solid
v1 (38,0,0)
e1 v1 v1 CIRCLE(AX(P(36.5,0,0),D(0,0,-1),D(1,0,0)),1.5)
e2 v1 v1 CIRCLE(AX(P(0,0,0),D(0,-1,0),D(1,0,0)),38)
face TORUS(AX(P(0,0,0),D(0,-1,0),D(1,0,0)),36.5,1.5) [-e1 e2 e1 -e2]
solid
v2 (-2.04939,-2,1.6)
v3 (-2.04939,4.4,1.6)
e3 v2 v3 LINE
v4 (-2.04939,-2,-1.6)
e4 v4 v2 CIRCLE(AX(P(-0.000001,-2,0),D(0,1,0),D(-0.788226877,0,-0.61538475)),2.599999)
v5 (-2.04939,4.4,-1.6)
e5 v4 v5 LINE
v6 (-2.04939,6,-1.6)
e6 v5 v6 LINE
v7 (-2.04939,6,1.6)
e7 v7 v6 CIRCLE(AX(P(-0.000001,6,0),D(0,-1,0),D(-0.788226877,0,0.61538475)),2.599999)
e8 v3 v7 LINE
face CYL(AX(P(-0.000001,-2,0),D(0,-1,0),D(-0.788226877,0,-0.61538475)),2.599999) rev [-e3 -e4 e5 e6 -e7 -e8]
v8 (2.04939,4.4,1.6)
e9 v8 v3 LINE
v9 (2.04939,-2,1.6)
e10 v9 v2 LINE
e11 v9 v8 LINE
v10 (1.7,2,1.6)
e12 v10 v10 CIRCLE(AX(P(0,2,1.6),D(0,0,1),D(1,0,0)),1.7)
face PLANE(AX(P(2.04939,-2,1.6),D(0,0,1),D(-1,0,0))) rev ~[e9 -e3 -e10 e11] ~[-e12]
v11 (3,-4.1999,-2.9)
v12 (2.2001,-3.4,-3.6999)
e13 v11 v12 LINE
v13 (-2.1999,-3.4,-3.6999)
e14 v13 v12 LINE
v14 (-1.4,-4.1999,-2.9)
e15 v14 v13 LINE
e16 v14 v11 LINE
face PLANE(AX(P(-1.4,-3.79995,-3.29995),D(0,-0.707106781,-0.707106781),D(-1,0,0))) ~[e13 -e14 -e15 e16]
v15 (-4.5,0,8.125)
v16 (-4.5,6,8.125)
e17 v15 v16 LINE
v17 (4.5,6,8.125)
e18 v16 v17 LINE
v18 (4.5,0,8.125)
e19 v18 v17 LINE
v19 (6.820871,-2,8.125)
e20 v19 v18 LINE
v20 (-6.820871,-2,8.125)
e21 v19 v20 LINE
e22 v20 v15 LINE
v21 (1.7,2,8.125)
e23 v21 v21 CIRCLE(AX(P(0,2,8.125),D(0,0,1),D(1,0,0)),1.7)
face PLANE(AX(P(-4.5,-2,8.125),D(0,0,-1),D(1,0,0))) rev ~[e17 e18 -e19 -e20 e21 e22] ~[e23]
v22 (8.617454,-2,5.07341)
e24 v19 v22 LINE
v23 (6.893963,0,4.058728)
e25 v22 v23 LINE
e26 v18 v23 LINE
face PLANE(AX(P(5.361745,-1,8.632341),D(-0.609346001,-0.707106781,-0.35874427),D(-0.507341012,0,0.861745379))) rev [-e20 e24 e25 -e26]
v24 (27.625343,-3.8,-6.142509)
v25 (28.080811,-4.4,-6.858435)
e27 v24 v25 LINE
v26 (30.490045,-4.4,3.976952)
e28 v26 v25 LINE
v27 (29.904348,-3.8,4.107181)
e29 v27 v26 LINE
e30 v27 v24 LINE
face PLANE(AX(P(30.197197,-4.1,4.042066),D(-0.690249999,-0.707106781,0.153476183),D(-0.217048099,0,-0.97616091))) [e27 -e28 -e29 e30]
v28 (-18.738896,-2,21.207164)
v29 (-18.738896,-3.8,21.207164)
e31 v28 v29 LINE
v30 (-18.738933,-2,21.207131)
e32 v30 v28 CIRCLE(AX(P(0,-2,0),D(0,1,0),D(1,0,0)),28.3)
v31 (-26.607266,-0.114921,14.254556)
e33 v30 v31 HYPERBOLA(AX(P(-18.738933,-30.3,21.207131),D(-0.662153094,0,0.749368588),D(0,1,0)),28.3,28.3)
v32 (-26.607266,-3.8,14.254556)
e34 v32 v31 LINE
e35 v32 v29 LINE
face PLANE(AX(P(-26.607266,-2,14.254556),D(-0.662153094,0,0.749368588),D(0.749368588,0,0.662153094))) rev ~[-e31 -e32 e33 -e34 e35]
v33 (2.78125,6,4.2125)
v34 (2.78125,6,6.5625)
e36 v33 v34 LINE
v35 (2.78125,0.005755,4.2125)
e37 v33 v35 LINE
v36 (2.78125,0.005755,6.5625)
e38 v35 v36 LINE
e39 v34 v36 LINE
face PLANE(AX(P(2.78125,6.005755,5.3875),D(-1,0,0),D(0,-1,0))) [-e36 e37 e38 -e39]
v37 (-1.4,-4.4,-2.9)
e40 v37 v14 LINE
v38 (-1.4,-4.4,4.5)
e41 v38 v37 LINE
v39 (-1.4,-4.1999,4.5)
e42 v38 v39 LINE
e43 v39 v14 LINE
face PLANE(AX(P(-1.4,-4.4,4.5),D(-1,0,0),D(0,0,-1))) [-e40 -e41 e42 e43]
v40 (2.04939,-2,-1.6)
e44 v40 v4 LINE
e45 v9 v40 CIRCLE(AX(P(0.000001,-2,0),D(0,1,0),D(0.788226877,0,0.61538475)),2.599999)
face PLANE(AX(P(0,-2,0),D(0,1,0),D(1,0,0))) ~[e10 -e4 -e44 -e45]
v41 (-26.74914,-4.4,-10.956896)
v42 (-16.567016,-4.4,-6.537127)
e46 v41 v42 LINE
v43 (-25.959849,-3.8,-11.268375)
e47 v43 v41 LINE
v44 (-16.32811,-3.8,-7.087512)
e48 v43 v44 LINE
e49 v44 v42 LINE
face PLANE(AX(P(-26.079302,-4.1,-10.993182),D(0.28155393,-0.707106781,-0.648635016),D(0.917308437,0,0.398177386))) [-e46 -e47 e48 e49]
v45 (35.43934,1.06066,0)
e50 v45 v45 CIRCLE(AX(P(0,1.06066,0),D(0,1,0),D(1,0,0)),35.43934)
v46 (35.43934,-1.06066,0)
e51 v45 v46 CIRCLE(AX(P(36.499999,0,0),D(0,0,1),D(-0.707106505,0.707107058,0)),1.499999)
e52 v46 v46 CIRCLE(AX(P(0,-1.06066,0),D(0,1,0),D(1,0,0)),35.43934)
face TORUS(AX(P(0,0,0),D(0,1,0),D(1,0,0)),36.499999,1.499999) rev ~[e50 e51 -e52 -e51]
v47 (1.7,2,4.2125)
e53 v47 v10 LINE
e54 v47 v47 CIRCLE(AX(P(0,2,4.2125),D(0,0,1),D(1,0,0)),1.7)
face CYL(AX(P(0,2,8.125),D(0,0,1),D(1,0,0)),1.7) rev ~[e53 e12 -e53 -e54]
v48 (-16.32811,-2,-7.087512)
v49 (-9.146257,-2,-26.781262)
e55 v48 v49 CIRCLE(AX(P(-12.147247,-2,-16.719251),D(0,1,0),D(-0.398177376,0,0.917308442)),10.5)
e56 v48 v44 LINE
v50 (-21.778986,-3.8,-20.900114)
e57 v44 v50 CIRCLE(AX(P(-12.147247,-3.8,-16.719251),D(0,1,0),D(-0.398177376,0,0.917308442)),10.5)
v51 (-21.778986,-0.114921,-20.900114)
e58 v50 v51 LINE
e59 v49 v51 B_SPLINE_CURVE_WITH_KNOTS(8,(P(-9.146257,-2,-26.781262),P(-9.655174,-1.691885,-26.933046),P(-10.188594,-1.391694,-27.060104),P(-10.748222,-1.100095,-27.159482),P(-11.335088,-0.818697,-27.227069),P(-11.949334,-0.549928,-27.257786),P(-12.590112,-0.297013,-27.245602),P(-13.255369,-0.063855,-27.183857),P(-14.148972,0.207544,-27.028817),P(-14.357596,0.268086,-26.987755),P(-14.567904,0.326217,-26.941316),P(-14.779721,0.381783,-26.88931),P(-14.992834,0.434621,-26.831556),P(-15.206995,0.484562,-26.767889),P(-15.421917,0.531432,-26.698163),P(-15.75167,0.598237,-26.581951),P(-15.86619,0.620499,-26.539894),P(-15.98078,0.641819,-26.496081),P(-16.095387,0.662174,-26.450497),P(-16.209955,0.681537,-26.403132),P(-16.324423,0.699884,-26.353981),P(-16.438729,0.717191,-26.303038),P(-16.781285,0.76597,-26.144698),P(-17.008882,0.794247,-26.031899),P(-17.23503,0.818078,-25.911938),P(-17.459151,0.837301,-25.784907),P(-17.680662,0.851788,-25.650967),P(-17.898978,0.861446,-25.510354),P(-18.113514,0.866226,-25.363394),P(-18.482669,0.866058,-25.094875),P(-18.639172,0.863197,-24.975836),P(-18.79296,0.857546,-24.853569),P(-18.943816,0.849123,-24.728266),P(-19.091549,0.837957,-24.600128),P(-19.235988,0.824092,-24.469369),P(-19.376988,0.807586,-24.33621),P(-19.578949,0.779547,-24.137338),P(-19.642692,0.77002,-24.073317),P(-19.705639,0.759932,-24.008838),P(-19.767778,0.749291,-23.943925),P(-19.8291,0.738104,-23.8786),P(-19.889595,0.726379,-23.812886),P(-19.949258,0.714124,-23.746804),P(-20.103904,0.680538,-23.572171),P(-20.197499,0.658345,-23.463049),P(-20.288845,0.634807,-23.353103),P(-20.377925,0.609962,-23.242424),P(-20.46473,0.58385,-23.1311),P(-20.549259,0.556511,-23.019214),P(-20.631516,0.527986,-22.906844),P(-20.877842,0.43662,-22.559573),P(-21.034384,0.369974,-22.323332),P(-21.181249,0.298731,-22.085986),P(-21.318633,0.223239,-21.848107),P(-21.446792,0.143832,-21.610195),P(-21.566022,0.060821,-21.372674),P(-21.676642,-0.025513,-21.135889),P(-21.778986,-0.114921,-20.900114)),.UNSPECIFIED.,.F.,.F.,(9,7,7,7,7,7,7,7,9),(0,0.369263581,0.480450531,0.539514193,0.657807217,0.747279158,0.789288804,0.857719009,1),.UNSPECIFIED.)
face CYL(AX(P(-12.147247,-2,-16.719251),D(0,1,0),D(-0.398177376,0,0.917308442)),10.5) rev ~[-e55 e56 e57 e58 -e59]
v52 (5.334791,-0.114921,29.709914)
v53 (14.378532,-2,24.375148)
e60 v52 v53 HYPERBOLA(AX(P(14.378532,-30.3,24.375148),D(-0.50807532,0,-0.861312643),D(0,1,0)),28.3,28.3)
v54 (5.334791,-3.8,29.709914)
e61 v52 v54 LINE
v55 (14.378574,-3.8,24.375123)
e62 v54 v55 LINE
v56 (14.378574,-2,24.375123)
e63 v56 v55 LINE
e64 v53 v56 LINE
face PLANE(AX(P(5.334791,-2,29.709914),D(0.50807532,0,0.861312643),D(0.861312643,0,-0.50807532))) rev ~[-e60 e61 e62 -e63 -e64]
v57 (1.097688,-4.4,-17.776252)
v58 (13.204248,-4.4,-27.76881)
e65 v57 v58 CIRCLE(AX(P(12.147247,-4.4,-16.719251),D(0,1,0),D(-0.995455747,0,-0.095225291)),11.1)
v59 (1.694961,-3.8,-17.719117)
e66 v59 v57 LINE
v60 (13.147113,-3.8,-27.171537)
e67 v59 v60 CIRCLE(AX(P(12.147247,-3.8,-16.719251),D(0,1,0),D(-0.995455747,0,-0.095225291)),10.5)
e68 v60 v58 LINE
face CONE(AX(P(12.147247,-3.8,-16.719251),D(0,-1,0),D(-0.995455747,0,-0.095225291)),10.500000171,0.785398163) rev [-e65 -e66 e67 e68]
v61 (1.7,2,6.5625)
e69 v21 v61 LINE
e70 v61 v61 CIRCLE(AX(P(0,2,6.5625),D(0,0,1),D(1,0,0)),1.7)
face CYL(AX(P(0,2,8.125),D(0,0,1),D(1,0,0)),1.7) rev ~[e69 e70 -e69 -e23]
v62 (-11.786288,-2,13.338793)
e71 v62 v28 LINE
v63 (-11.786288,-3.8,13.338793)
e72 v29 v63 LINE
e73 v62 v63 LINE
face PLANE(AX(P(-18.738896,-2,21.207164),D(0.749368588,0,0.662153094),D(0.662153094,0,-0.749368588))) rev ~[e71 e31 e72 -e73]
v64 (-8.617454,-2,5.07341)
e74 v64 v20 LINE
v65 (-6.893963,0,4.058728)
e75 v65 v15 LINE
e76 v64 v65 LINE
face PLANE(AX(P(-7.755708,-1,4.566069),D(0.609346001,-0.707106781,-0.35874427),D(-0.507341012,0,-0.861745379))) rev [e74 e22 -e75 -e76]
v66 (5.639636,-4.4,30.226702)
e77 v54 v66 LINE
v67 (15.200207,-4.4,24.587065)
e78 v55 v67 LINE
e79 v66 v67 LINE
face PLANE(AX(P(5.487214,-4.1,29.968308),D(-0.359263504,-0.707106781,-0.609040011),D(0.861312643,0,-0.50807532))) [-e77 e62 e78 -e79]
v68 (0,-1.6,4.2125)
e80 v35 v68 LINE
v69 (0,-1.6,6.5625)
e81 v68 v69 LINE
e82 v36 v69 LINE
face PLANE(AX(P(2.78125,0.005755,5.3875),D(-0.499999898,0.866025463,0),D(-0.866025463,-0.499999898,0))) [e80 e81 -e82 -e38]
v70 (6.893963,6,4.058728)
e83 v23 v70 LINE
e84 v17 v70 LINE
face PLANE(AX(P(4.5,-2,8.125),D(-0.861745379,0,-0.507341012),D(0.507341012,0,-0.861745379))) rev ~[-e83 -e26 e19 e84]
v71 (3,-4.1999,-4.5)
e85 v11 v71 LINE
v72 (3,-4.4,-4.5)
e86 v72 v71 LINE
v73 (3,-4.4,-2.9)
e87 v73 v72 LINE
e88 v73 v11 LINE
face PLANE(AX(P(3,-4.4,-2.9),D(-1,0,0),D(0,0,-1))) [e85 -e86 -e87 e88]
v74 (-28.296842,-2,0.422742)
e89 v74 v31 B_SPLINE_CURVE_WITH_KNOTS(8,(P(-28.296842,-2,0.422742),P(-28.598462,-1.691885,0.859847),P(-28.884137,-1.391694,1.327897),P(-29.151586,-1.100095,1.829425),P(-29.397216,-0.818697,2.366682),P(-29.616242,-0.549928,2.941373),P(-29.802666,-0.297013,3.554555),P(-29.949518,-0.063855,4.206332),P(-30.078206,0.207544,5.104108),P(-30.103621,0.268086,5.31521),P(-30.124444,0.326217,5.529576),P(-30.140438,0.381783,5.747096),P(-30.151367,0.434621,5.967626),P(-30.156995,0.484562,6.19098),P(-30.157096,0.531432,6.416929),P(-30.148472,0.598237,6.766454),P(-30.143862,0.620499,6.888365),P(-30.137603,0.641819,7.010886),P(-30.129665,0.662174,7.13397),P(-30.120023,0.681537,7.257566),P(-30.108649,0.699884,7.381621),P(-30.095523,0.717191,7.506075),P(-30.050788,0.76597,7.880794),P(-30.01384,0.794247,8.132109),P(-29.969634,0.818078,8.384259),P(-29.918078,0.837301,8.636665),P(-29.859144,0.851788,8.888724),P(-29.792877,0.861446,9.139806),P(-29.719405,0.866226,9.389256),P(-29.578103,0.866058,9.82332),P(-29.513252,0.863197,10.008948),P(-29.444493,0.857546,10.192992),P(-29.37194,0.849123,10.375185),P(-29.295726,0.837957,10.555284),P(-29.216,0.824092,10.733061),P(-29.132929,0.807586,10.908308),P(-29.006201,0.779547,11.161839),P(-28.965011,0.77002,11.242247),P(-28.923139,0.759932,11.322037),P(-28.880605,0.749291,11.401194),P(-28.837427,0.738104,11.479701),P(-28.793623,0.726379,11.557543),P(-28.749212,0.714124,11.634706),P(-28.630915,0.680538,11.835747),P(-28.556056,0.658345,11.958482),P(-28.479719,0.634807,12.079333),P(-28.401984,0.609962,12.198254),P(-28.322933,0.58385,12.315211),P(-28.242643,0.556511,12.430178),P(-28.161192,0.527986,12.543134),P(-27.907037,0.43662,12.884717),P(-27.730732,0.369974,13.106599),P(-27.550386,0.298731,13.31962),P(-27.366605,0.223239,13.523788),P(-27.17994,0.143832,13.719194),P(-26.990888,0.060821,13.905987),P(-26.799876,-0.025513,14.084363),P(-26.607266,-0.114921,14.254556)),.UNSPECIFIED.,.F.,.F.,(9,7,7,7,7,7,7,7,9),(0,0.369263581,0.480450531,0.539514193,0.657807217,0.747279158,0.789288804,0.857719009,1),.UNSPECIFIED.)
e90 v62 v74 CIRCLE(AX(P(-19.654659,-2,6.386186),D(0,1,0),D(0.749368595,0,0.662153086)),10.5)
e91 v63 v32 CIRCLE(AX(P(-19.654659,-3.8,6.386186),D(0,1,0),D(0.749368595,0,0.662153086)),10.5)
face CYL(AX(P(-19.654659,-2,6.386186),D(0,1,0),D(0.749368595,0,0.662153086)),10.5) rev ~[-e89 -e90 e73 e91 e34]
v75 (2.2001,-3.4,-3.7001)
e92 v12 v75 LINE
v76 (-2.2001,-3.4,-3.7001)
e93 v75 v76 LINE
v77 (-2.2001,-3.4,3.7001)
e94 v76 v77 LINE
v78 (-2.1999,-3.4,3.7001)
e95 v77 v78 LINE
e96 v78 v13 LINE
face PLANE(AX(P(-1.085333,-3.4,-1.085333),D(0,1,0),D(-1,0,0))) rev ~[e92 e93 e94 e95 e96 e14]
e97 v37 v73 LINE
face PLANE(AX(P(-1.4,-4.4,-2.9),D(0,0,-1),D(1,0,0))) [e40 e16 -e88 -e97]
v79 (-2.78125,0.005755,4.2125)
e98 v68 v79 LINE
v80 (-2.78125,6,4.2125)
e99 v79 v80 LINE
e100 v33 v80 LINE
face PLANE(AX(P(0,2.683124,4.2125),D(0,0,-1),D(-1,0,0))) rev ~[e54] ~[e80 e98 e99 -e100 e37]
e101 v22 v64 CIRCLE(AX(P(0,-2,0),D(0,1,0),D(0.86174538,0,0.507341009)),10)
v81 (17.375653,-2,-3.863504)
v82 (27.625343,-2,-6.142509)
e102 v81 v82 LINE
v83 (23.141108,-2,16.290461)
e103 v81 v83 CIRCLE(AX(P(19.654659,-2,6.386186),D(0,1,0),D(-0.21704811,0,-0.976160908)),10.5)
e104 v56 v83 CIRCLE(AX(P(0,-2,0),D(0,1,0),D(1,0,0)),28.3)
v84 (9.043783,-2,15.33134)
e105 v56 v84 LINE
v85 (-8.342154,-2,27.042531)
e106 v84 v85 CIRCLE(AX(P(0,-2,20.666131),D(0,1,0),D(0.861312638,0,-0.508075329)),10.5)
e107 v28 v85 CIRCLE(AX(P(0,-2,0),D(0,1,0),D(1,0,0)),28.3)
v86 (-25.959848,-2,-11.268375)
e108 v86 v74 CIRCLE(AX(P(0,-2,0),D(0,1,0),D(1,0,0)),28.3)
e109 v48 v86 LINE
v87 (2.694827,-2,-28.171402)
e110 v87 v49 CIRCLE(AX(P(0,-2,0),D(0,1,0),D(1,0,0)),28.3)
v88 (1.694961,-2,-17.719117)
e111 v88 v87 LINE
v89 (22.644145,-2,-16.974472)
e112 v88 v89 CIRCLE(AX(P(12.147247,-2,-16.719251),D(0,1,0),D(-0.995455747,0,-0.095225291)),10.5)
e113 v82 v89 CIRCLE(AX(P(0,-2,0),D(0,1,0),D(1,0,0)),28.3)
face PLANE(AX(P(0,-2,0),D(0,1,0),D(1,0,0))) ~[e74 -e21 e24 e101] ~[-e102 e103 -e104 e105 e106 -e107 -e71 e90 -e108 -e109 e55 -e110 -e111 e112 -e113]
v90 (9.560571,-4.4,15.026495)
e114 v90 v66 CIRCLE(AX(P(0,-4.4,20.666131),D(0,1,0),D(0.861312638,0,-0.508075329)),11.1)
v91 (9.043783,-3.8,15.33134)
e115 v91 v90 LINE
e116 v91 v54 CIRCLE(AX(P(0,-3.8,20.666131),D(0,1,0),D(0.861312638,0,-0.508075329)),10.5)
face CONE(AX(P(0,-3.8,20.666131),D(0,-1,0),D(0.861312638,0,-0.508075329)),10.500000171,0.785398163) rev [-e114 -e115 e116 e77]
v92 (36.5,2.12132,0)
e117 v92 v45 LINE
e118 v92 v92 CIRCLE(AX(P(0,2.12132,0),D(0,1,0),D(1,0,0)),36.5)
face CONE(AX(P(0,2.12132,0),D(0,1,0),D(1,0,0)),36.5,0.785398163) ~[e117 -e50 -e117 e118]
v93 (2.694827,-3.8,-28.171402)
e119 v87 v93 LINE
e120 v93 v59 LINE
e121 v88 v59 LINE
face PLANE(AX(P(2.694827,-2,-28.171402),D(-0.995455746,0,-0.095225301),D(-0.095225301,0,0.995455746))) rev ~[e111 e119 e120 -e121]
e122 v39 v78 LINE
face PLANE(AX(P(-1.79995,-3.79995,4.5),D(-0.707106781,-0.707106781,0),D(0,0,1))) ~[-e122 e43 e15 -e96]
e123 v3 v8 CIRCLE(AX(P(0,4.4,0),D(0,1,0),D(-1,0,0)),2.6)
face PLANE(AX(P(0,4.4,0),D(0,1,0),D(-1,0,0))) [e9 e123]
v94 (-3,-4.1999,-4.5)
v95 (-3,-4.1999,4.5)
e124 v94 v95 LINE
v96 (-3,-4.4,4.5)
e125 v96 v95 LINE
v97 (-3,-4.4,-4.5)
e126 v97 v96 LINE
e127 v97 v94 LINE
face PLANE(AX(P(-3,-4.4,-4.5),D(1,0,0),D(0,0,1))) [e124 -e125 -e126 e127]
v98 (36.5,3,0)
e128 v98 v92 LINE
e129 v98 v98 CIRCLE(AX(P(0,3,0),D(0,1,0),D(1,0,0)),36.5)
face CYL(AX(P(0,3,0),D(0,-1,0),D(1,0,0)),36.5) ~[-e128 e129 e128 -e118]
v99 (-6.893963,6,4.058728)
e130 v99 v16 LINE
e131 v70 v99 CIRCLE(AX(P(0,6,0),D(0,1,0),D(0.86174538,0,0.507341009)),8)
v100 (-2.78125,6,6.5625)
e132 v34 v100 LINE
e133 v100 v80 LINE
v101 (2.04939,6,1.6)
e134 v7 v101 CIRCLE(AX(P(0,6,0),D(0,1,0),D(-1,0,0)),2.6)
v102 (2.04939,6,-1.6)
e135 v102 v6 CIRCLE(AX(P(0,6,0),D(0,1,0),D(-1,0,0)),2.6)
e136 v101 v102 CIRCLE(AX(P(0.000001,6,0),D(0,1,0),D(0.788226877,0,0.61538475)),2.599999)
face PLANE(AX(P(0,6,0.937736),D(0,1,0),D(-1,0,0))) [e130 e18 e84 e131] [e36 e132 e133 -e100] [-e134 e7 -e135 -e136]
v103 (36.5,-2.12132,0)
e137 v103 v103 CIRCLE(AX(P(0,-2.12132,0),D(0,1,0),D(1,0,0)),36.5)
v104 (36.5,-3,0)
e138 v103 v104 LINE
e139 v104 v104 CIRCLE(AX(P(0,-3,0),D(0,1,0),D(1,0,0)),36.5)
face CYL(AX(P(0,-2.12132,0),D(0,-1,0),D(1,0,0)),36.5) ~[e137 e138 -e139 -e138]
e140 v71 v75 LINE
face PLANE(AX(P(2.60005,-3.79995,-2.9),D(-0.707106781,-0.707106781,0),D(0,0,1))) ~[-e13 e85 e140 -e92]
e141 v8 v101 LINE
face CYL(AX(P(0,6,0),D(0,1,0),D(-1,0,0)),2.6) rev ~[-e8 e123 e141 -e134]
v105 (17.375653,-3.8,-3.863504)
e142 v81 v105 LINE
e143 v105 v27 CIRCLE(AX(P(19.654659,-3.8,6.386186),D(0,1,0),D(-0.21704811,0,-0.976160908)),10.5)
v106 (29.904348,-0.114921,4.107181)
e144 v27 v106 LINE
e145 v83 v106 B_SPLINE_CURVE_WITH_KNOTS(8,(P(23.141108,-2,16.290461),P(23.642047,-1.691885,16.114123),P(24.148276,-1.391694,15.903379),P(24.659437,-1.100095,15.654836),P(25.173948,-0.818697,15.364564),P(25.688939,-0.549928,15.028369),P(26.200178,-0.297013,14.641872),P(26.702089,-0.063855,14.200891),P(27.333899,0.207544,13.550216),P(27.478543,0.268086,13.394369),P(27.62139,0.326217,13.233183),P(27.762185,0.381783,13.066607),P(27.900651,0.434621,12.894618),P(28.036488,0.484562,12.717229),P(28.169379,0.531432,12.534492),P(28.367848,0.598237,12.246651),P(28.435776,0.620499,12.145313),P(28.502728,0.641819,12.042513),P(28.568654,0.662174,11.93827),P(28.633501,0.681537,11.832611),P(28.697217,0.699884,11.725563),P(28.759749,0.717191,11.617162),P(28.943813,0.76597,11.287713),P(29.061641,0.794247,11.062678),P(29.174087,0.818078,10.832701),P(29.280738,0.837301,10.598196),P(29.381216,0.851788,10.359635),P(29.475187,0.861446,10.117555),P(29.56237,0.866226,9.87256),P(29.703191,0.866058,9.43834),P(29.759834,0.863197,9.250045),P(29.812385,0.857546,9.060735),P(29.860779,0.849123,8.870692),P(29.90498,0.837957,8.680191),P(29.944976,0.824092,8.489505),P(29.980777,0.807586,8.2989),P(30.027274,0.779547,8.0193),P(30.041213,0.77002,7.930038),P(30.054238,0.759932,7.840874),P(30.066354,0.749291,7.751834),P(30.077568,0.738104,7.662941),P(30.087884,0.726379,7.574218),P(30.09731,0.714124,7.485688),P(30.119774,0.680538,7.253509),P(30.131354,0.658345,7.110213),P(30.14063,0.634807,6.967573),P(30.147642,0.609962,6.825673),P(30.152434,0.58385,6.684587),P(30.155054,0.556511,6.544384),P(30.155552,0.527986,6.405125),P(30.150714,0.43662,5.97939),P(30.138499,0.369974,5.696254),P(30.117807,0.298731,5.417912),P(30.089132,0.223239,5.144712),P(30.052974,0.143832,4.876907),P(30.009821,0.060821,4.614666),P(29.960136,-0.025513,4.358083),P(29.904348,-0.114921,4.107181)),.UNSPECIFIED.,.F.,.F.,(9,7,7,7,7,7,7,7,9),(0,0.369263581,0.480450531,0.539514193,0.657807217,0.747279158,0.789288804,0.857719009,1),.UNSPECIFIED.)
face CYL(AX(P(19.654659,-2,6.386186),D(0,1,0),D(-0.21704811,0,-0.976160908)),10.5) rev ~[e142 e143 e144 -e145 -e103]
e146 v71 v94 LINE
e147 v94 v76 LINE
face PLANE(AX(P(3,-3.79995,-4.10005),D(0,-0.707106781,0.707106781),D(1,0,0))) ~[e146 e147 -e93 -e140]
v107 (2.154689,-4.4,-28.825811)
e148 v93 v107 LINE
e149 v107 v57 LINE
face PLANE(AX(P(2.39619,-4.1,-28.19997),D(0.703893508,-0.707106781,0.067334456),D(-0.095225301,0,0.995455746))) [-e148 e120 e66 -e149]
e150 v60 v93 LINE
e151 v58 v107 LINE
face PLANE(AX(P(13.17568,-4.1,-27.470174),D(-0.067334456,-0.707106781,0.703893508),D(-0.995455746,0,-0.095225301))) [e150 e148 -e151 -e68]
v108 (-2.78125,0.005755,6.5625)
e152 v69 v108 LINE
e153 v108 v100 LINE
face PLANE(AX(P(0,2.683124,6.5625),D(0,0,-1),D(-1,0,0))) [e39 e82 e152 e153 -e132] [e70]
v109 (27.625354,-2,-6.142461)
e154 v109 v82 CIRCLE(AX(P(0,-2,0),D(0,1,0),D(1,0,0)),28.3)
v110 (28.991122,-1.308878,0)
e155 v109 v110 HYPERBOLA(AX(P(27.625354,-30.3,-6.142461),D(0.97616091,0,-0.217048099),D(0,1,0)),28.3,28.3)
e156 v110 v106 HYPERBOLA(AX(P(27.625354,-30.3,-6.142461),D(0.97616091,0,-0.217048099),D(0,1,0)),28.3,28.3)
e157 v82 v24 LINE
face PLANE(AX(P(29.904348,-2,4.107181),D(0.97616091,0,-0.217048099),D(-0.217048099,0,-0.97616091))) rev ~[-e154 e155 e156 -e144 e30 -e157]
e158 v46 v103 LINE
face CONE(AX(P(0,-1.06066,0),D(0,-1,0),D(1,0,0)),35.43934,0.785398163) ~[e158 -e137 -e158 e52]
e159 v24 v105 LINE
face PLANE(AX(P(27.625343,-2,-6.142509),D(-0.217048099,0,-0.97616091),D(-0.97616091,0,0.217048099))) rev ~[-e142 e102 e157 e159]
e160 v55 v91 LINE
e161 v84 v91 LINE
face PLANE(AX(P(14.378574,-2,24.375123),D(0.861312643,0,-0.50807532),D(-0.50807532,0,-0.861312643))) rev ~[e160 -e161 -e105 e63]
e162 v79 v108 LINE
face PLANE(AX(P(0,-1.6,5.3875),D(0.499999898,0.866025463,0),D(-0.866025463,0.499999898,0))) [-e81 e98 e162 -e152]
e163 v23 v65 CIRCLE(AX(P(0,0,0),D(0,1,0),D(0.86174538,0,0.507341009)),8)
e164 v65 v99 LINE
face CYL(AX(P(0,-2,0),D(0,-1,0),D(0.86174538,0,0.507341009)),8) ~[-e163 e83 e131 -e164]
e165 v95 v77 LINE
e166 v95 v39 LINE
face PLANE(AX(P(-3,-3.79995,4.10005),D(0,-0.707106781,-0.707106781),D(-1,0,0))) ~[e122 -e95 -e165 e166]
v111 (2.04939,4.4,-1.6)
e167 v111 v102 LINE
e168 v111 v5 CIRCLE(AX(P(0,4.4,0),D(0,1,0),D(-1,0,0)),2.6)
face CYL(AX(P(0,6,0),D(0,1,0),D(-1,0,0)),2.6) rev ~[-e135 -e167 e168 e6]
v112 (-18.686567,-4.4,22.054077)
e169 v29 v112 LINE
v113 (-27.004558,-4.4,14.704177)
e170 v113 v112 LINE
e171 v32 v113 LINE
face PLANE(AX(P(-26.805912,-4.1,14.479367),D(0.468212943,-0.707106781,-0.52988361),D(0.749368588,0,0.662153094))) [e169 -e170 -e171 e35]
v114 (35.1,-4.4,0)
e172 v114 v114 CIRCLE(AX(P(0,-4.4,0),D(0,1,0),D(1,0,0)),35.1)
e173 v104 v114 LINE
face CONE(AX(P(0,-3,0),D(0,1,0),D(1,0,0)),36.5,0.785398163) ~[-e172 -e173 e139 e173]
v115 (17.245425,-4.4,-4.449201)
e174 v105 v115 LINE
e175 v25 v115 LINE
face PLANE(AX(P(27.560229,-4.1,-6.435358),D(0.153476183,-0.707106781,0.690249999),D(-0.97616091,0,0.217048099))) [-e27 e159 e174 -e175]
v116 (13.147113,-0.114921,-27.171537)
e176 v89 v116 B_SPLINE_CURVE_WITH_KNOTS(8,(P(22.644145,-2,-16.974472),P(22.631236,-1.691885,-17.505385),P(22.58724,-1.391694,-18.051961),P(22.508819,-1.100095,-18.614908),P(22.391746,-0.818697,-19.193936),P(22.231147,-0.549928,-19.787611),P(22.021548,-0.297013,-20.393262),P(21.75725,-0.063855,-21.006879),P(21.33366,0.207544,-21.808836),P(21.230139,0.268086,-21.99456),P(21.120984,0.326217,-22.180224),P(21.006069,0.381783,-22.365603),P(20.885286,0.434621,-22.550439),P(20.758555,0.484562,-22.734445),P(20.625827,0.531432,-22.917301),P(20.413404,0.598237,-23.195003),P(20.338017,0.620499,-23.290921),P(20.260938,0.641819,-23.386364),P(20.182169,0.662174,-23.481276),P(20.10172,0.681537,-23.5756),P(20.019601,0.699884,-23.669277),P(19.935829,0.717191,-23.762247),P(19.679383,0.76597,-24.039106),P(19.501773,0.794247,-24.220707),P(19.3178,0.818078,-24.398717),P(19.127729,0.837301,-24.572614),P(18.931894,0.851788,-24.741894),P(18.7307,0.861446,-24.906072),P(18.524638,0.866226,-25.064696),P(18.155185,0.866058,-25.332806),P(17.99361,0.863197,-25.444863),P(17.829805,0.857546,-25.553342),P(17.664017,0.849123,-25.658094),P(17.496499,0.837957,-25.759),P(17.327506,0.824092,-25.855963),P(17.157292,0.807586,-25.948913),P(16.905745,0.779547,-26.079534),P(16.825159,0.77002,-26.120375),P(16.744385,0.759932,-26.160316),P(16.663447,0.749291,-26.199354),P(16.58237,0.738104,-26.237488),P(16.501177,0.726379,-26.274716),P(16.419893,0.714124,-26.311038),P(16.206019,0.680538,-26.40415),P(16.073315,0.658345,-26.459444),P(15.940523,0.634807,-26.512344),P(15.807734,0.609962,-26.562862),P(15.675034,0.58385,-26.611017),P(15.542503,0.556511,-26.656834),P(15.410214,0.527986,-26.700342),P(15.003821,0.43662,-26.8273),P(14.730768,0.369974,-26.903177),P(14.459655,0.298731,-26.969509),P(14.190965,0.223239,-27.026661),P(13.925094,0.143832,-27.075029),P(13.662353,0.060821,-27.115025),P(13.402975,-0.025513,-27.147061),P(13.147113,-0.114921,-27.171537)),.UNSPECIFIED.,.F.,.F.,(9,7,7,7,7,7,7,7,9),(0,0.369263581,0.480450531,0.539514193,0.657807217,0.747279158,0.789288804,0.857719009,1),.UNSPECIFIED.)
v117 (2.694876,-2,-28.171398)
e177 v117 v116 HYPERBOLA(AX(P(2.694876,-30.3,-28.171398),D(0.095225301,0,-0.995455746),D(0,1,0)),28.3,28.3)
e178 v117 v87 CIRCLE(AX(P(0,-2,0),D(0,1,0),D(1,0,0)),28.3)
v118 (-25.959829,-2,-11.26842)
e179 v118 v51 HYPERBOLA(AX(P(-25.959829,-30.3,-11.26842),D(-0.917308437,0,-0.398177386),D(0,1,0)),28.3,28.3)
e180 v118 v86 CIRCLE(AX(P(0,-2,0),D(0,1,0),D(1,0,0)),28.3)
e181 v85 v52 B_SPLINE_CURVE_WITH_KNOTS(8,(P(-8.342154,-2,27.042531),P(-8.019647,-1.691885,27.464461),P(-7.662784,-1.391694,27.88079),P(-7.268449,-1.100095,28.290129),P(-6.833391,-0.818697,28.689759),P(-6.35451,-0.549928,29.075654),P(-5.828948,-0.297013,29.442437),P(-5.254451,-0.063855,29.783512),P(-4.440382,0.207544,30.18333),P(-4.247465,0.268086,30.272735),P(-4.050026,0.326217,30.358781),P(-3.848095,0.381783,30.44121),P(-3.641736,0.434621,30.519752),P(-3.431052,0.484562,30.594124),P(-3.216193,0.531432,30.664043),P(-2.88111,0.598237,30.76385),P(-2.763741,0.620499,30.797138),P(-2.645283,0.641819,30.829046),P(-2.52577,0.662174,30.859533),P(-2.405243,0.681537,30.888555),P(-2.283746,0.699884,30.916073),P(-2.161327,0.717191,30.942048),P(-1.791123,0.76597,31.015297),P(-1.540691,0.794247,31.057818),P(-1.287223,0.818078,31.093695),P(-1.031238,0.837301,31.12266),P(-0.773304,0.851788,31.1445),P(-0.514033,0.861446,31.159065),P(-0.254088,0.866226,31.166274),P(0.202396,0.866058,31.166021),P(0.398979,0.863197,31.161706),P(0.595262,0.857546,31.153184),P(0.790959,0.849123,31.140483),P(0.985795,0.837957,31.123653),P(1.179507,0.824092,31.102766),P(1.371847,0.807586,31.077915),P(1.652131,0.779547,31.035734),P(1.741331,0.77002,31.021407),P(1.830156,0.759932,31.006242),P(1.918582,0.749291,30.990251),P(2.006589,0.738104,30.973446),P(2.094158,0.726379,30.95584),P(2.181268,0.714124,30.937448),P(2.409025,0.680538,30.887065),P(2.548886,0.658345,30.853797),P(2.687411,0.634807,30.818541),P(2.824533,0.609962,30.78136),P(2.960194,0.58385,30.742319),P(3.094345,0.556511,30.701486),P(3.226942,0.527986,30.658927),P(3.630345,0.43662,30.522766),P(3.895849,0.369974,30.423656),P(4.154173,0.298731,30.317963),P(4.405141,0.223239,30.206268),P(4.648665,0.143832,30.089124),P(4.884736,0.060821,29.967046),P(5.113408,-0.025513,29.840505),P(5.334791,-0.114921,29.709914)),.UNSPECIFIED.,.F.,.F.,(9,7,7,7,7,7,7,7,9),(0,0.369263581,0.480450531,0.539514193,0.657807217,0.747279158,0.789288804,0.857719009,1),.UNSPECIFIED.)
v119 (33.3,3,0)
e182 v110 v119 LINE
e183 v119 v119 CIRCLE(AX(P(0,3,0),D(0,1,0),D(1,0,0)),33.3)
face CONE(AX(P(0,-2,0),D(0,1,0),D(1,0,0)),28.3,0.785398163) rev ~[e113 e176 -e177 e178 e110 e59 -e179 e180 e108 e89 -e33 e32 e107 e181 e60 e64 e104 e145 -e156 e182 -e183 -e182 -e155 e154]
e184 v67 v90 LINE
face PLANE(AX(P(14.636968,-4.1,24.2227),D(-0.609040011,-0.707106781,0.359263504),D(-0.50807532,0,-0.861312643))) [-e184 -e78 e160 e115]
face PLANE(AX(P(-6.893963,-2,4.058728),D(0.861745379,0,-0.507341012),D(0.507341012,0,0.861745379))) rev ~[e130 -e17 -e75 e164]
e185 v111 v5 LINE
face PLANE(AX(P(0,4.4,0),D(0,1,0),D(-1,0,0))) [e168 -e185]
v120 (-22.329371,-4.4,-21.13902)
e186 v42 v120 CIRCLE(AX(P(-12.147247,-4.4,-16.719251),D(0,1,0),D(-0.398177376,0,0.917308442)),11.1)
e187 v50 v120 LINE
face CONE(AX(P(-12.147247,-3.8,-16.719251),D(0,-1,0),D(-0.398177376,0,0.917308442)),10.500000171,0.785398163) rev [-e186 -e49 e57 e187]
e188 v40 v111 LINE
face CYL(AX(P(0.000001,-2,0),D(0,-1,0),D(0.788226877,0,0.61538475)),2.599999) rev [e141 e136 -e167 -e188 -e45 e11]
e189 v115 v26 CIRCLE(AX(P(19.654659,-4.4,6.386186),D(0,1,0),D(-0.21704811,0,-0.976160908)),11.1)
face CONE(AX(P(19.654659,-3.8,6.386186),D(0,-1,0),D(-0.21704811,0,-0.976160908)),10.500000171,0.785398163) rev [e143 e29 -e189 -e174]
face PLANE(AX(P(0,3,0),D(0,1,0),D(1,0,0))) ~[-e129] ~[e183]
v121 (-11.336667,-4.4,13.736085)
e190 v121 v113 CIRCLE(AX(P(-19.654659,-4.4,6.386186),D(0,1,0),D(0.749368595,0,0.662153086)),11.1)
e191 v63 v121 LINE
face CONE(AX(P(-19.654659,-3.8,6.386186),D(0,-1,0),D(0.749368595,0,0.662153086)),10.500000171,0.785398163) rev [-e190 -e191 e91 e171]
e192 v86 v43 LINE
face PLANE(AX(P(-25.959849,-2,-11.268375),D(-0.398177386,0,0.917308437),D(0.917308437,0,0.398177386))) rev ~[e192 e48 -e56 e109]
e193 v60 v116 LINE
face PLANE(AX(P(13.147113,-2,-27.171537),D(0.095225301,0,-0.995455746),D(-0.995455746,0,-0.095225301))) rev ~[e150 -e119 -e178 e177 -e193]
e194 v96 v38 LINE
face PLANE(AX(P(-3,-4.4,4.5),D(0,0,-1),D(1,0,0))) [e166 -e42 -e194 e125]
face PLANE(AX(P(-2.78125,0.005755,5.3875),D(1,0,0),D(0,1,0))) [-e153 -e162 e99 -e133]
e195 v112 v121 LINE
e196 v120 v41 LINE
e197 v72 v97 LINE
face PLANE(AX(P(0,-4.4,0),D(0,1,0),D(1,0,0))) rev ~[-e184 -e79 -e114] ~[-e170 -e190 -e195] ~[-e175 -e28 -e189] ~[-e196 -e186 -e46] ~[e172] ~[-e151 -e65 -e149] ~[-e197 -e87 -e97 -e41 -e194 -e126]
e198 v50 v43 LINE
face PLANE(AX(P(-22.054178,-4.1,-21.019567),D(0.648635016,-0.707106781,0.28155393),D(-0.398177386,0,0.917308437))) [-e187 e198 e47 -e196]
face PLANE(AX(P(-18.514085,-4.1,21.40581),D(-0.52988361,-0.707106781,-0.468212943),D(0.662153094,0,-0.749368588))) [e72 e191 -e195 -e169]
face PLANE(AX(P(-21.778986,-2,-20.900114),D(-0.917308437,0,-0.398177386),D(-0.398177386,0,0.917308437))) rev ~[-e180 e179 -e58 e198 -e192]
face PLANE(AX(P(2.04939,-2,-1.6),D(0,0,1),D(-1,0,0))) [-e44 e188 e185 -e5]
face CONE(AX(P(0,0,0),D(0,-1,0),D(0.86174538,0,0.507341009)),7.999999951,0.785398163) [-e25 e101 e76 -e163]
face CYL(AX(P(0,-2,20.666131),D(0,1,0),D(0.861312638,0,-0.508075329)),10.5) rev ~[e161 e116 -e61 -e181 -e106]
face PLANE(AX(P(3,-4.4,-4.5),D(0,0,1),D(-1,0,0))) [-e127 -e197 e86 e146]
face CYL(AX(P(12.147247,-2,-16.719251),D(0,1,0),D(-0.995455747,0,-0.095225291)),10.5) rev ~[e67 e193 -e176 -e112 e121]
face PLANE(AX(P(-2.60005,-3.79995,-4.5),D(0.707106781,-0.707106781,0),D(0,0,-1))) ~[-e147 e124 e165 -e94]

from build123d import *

# Parameters (mm, degrees)
PAD_DEPTH            = 8
CHAMFER_SIZE         = 2
SKETCH002_R          = 2.6
POCKET_DEPTH         = 1.6
SKETCH003_R          = 1.7
POCKET001_DEPTH      = 8
POCKET002_DEPTH      = 1.175
POCKET006_DEPTH      = 209.921216
POCKET006_DEPTH_BACK = 215.521216
POLARPATTERN_COUNT   = 5
CHAMFER002_SIZE      = 0.6
POCKET007_DEPTH      = 1
CHAMFER006_SIZE      = 0.7999
TORUS_R              = 1.5


with BuildPart() as body_wheel_left:
    # Sketch → Revolution (revolve)
    with BuildSketch(Plane.XY):
        with BuildLine():
            Line((0, -2), (28.3, -2))
            Line((28.3, -2), (33.3, 3))
            Line((33.3, 3), (36.5, 3))
            Line((36.5, 3), (36.5, 2.12132))
            Line((36.5, 2.12132), (35.43934, 1.06066))
            ThreePointArc((35.43934, 1.06066), (35, 0), (35.43934, -1.06066))
            Line((35.43934, -1.06066), (36.5, -2.12132))
            Line((36.5, -2.12132), (36.5, -3))
            Line((36.5, -3), (35.1, -4.4))
            Line((35.1, -4.4), (0, -4.4))
            Line((0, -4.4), (0, -2))
        make_face()
    revolve(axis=Axis((0, 0, 0), (0, 1, 0)))

    # Sketch001 (on Face1 of Revolution) → Pad (new body)
    with BuildSketch(Plane(origin=(0, -2, 0), x_dir=(-1, 0, 0), z_dir=(0, 1, 0))):
        with BuildLine():
            Line((4.5, 8.125), (-4.5, 8.125))
            Line((-4.5, 8.125), (-6.893963, 4.058728))
            ThreePointArc((-6.893963, 4.058728), (0, -8), (6.893963, 4.058728))
            Line((6.893963, 4.058728), (4.5, 8.125))
        make_face()
        with BuildLine():
            Line((-2.04939, 1.6), (2.04939, 1.6))
            ThreePointArc((2.04939, -1.6), (2.6, 0), (2.04939, 1.6))
            Line((-2.04939, -1.6), (2.04939, -1.6))
            ThreePointArc((-2.04939, 1.6), (-2.6, 0), (-2.04939, -1.6))
        make_face(mode=Mode.SUBTRACT)
    extrude(amount=PAD_DEPTH)

    # Chamfer
    chamfer_edges = [body_wheel_left.edges().sort_by_distance(p)[0] for p in [
        (0, -2, -8),
    ]]
    chamfer(chamfer_edges, length=CHAMFER_SIZE)

    # Sketch002 (on Face8 of Chamfer) → Pocket (cut)
    with BuildSketch(Plane(origin=(0, 6, 0), x_dir=(-1, 0, 0), z_dir=(0, 1, 0))):
        Circle(SKETCH002_R)
    extrude(amount=-POCKET_DEPTH, mode=Mode.SUBTRACT)

    # Sketch003 (on Face8 of Pocket) → Pocket001 (cut)
    with BuildSketch(Plane.XY.offset(8.125)):
        with Locations((0, 2)):
            Circle(SKETCH003_R)
    extrude(amount=-POCKET001_DEPTH, mode=Mode.SUBTRACT)

    # Sketch004 (on Face9 of Pocket001) → Pocket002 (cut, symmetric)
    with BuildSketch(Plane.XY.offset(5.3875)):
        Polygon((-2.78125, 0.005755), (-2.78125, 6.005755), (2.78125, 6.005755), (2.78125, 0.005755), (0, -1.6), align=None)
    extrude(amount=POCKET002_DEPTH, both=True, mode=Mode.SUBTRACT)

    # Sketch009 (on Face1 of Clone) → Pocket006 (cut, two sides)
    with BuildSketch(Plane(origin=(0, -2, 0), x_dir=(-1, 0, 0), z_dir=(0, 1, 0))) as pocket006_sk:
        with BuildLine():
            ThreePointArc((-9.043783, 15.33134), (10.167187, 18.043478), (-5.334791, 29.709914))
            Line((-5.334791, 29.709914), (-14.378574, 24.375123))
            Line((-14.378574, 24.375123), (-9.043783, 15.33134))
        make_face()
    pocket006 = extrude(amount=-POCKET006_DEPTH, mode=Mode.SUBTRACT) + extrude(pocket006_sk.sketch, amount=POCKET006_DEPTH_BACK, mode=Mode.SUBTRACT)

    # PolarPattern: Pocket006 ×5 about axis
    polarpattern_axis = Axis((0, -2, 0), (0, 1, 0))
    for i in range(1, POLARPATTERN_COUNT):
        add(pocket006.rotate(polarpattern_axis, i * 360 / POLARPATTERN_COUNT), mode=Mode.SUBTRACT)

    # Chamfer002
    chamfer002_edges = [body_wheel_left.edges().sort_by_distance(p)[0] for p in [
        (-20.302201, -4.4, -4.093828),
        (-10.167187, -4.4, 18.043478),
        (14.018534, -4.4, 15.245311),
        (18.831118, -4.4, -8.621358),
        (-2.380263, -4.4, -20.573603),
    ]]
    chamfer(chamfer002_edges, length=CHAMFER002_SIZE)

    # Sketch008 (on Face9 of Chamfer002) → Pocket007 (cut)
    with BuildSketch(Plane.XZ.offset(4.4)):
        Polygon((-3, -4.5), (-3, 4.5), (-1.4, 4.5), (-1.4, -2.9), (3, -2.9), (3, -4.5), align=None)
    extrude(amount=-POCKET007_DEPTH, mode=Mode.SUBTRACT)

    # Chamfer006
    chamfer006_edges = [body_wheel_left.edges().sort_by_distance(p)[0] for p in [
        (-3, -3.4, 0),
        (-2.2, -3.4, 4.5),
        (-1.4, -3.4, 0.8),
        (0.8, -3.4, -2.9),
        (3, -3.4, -3.7),
        (0, -3.4, -4.5),
    ]]
    chamfer(chamfer006_edges, length=CHAMFER006_SIZE)


with BuildPart() as o_ring_l:
    # Torus → Torus (revolve)
    with BuildSketch(Plane(origin=(0, 0, 0), x_dir=(1, 0, 0), z_dir=(0, 0, -1))):
        with Locations((36.5, 0)):
            Circle(TORUS_R)
    revolve(axis=Axis((0, 0, 0), (0, -1, 0)))


solid = Compound([body_wheel_left.part, o_ring_l.part])
